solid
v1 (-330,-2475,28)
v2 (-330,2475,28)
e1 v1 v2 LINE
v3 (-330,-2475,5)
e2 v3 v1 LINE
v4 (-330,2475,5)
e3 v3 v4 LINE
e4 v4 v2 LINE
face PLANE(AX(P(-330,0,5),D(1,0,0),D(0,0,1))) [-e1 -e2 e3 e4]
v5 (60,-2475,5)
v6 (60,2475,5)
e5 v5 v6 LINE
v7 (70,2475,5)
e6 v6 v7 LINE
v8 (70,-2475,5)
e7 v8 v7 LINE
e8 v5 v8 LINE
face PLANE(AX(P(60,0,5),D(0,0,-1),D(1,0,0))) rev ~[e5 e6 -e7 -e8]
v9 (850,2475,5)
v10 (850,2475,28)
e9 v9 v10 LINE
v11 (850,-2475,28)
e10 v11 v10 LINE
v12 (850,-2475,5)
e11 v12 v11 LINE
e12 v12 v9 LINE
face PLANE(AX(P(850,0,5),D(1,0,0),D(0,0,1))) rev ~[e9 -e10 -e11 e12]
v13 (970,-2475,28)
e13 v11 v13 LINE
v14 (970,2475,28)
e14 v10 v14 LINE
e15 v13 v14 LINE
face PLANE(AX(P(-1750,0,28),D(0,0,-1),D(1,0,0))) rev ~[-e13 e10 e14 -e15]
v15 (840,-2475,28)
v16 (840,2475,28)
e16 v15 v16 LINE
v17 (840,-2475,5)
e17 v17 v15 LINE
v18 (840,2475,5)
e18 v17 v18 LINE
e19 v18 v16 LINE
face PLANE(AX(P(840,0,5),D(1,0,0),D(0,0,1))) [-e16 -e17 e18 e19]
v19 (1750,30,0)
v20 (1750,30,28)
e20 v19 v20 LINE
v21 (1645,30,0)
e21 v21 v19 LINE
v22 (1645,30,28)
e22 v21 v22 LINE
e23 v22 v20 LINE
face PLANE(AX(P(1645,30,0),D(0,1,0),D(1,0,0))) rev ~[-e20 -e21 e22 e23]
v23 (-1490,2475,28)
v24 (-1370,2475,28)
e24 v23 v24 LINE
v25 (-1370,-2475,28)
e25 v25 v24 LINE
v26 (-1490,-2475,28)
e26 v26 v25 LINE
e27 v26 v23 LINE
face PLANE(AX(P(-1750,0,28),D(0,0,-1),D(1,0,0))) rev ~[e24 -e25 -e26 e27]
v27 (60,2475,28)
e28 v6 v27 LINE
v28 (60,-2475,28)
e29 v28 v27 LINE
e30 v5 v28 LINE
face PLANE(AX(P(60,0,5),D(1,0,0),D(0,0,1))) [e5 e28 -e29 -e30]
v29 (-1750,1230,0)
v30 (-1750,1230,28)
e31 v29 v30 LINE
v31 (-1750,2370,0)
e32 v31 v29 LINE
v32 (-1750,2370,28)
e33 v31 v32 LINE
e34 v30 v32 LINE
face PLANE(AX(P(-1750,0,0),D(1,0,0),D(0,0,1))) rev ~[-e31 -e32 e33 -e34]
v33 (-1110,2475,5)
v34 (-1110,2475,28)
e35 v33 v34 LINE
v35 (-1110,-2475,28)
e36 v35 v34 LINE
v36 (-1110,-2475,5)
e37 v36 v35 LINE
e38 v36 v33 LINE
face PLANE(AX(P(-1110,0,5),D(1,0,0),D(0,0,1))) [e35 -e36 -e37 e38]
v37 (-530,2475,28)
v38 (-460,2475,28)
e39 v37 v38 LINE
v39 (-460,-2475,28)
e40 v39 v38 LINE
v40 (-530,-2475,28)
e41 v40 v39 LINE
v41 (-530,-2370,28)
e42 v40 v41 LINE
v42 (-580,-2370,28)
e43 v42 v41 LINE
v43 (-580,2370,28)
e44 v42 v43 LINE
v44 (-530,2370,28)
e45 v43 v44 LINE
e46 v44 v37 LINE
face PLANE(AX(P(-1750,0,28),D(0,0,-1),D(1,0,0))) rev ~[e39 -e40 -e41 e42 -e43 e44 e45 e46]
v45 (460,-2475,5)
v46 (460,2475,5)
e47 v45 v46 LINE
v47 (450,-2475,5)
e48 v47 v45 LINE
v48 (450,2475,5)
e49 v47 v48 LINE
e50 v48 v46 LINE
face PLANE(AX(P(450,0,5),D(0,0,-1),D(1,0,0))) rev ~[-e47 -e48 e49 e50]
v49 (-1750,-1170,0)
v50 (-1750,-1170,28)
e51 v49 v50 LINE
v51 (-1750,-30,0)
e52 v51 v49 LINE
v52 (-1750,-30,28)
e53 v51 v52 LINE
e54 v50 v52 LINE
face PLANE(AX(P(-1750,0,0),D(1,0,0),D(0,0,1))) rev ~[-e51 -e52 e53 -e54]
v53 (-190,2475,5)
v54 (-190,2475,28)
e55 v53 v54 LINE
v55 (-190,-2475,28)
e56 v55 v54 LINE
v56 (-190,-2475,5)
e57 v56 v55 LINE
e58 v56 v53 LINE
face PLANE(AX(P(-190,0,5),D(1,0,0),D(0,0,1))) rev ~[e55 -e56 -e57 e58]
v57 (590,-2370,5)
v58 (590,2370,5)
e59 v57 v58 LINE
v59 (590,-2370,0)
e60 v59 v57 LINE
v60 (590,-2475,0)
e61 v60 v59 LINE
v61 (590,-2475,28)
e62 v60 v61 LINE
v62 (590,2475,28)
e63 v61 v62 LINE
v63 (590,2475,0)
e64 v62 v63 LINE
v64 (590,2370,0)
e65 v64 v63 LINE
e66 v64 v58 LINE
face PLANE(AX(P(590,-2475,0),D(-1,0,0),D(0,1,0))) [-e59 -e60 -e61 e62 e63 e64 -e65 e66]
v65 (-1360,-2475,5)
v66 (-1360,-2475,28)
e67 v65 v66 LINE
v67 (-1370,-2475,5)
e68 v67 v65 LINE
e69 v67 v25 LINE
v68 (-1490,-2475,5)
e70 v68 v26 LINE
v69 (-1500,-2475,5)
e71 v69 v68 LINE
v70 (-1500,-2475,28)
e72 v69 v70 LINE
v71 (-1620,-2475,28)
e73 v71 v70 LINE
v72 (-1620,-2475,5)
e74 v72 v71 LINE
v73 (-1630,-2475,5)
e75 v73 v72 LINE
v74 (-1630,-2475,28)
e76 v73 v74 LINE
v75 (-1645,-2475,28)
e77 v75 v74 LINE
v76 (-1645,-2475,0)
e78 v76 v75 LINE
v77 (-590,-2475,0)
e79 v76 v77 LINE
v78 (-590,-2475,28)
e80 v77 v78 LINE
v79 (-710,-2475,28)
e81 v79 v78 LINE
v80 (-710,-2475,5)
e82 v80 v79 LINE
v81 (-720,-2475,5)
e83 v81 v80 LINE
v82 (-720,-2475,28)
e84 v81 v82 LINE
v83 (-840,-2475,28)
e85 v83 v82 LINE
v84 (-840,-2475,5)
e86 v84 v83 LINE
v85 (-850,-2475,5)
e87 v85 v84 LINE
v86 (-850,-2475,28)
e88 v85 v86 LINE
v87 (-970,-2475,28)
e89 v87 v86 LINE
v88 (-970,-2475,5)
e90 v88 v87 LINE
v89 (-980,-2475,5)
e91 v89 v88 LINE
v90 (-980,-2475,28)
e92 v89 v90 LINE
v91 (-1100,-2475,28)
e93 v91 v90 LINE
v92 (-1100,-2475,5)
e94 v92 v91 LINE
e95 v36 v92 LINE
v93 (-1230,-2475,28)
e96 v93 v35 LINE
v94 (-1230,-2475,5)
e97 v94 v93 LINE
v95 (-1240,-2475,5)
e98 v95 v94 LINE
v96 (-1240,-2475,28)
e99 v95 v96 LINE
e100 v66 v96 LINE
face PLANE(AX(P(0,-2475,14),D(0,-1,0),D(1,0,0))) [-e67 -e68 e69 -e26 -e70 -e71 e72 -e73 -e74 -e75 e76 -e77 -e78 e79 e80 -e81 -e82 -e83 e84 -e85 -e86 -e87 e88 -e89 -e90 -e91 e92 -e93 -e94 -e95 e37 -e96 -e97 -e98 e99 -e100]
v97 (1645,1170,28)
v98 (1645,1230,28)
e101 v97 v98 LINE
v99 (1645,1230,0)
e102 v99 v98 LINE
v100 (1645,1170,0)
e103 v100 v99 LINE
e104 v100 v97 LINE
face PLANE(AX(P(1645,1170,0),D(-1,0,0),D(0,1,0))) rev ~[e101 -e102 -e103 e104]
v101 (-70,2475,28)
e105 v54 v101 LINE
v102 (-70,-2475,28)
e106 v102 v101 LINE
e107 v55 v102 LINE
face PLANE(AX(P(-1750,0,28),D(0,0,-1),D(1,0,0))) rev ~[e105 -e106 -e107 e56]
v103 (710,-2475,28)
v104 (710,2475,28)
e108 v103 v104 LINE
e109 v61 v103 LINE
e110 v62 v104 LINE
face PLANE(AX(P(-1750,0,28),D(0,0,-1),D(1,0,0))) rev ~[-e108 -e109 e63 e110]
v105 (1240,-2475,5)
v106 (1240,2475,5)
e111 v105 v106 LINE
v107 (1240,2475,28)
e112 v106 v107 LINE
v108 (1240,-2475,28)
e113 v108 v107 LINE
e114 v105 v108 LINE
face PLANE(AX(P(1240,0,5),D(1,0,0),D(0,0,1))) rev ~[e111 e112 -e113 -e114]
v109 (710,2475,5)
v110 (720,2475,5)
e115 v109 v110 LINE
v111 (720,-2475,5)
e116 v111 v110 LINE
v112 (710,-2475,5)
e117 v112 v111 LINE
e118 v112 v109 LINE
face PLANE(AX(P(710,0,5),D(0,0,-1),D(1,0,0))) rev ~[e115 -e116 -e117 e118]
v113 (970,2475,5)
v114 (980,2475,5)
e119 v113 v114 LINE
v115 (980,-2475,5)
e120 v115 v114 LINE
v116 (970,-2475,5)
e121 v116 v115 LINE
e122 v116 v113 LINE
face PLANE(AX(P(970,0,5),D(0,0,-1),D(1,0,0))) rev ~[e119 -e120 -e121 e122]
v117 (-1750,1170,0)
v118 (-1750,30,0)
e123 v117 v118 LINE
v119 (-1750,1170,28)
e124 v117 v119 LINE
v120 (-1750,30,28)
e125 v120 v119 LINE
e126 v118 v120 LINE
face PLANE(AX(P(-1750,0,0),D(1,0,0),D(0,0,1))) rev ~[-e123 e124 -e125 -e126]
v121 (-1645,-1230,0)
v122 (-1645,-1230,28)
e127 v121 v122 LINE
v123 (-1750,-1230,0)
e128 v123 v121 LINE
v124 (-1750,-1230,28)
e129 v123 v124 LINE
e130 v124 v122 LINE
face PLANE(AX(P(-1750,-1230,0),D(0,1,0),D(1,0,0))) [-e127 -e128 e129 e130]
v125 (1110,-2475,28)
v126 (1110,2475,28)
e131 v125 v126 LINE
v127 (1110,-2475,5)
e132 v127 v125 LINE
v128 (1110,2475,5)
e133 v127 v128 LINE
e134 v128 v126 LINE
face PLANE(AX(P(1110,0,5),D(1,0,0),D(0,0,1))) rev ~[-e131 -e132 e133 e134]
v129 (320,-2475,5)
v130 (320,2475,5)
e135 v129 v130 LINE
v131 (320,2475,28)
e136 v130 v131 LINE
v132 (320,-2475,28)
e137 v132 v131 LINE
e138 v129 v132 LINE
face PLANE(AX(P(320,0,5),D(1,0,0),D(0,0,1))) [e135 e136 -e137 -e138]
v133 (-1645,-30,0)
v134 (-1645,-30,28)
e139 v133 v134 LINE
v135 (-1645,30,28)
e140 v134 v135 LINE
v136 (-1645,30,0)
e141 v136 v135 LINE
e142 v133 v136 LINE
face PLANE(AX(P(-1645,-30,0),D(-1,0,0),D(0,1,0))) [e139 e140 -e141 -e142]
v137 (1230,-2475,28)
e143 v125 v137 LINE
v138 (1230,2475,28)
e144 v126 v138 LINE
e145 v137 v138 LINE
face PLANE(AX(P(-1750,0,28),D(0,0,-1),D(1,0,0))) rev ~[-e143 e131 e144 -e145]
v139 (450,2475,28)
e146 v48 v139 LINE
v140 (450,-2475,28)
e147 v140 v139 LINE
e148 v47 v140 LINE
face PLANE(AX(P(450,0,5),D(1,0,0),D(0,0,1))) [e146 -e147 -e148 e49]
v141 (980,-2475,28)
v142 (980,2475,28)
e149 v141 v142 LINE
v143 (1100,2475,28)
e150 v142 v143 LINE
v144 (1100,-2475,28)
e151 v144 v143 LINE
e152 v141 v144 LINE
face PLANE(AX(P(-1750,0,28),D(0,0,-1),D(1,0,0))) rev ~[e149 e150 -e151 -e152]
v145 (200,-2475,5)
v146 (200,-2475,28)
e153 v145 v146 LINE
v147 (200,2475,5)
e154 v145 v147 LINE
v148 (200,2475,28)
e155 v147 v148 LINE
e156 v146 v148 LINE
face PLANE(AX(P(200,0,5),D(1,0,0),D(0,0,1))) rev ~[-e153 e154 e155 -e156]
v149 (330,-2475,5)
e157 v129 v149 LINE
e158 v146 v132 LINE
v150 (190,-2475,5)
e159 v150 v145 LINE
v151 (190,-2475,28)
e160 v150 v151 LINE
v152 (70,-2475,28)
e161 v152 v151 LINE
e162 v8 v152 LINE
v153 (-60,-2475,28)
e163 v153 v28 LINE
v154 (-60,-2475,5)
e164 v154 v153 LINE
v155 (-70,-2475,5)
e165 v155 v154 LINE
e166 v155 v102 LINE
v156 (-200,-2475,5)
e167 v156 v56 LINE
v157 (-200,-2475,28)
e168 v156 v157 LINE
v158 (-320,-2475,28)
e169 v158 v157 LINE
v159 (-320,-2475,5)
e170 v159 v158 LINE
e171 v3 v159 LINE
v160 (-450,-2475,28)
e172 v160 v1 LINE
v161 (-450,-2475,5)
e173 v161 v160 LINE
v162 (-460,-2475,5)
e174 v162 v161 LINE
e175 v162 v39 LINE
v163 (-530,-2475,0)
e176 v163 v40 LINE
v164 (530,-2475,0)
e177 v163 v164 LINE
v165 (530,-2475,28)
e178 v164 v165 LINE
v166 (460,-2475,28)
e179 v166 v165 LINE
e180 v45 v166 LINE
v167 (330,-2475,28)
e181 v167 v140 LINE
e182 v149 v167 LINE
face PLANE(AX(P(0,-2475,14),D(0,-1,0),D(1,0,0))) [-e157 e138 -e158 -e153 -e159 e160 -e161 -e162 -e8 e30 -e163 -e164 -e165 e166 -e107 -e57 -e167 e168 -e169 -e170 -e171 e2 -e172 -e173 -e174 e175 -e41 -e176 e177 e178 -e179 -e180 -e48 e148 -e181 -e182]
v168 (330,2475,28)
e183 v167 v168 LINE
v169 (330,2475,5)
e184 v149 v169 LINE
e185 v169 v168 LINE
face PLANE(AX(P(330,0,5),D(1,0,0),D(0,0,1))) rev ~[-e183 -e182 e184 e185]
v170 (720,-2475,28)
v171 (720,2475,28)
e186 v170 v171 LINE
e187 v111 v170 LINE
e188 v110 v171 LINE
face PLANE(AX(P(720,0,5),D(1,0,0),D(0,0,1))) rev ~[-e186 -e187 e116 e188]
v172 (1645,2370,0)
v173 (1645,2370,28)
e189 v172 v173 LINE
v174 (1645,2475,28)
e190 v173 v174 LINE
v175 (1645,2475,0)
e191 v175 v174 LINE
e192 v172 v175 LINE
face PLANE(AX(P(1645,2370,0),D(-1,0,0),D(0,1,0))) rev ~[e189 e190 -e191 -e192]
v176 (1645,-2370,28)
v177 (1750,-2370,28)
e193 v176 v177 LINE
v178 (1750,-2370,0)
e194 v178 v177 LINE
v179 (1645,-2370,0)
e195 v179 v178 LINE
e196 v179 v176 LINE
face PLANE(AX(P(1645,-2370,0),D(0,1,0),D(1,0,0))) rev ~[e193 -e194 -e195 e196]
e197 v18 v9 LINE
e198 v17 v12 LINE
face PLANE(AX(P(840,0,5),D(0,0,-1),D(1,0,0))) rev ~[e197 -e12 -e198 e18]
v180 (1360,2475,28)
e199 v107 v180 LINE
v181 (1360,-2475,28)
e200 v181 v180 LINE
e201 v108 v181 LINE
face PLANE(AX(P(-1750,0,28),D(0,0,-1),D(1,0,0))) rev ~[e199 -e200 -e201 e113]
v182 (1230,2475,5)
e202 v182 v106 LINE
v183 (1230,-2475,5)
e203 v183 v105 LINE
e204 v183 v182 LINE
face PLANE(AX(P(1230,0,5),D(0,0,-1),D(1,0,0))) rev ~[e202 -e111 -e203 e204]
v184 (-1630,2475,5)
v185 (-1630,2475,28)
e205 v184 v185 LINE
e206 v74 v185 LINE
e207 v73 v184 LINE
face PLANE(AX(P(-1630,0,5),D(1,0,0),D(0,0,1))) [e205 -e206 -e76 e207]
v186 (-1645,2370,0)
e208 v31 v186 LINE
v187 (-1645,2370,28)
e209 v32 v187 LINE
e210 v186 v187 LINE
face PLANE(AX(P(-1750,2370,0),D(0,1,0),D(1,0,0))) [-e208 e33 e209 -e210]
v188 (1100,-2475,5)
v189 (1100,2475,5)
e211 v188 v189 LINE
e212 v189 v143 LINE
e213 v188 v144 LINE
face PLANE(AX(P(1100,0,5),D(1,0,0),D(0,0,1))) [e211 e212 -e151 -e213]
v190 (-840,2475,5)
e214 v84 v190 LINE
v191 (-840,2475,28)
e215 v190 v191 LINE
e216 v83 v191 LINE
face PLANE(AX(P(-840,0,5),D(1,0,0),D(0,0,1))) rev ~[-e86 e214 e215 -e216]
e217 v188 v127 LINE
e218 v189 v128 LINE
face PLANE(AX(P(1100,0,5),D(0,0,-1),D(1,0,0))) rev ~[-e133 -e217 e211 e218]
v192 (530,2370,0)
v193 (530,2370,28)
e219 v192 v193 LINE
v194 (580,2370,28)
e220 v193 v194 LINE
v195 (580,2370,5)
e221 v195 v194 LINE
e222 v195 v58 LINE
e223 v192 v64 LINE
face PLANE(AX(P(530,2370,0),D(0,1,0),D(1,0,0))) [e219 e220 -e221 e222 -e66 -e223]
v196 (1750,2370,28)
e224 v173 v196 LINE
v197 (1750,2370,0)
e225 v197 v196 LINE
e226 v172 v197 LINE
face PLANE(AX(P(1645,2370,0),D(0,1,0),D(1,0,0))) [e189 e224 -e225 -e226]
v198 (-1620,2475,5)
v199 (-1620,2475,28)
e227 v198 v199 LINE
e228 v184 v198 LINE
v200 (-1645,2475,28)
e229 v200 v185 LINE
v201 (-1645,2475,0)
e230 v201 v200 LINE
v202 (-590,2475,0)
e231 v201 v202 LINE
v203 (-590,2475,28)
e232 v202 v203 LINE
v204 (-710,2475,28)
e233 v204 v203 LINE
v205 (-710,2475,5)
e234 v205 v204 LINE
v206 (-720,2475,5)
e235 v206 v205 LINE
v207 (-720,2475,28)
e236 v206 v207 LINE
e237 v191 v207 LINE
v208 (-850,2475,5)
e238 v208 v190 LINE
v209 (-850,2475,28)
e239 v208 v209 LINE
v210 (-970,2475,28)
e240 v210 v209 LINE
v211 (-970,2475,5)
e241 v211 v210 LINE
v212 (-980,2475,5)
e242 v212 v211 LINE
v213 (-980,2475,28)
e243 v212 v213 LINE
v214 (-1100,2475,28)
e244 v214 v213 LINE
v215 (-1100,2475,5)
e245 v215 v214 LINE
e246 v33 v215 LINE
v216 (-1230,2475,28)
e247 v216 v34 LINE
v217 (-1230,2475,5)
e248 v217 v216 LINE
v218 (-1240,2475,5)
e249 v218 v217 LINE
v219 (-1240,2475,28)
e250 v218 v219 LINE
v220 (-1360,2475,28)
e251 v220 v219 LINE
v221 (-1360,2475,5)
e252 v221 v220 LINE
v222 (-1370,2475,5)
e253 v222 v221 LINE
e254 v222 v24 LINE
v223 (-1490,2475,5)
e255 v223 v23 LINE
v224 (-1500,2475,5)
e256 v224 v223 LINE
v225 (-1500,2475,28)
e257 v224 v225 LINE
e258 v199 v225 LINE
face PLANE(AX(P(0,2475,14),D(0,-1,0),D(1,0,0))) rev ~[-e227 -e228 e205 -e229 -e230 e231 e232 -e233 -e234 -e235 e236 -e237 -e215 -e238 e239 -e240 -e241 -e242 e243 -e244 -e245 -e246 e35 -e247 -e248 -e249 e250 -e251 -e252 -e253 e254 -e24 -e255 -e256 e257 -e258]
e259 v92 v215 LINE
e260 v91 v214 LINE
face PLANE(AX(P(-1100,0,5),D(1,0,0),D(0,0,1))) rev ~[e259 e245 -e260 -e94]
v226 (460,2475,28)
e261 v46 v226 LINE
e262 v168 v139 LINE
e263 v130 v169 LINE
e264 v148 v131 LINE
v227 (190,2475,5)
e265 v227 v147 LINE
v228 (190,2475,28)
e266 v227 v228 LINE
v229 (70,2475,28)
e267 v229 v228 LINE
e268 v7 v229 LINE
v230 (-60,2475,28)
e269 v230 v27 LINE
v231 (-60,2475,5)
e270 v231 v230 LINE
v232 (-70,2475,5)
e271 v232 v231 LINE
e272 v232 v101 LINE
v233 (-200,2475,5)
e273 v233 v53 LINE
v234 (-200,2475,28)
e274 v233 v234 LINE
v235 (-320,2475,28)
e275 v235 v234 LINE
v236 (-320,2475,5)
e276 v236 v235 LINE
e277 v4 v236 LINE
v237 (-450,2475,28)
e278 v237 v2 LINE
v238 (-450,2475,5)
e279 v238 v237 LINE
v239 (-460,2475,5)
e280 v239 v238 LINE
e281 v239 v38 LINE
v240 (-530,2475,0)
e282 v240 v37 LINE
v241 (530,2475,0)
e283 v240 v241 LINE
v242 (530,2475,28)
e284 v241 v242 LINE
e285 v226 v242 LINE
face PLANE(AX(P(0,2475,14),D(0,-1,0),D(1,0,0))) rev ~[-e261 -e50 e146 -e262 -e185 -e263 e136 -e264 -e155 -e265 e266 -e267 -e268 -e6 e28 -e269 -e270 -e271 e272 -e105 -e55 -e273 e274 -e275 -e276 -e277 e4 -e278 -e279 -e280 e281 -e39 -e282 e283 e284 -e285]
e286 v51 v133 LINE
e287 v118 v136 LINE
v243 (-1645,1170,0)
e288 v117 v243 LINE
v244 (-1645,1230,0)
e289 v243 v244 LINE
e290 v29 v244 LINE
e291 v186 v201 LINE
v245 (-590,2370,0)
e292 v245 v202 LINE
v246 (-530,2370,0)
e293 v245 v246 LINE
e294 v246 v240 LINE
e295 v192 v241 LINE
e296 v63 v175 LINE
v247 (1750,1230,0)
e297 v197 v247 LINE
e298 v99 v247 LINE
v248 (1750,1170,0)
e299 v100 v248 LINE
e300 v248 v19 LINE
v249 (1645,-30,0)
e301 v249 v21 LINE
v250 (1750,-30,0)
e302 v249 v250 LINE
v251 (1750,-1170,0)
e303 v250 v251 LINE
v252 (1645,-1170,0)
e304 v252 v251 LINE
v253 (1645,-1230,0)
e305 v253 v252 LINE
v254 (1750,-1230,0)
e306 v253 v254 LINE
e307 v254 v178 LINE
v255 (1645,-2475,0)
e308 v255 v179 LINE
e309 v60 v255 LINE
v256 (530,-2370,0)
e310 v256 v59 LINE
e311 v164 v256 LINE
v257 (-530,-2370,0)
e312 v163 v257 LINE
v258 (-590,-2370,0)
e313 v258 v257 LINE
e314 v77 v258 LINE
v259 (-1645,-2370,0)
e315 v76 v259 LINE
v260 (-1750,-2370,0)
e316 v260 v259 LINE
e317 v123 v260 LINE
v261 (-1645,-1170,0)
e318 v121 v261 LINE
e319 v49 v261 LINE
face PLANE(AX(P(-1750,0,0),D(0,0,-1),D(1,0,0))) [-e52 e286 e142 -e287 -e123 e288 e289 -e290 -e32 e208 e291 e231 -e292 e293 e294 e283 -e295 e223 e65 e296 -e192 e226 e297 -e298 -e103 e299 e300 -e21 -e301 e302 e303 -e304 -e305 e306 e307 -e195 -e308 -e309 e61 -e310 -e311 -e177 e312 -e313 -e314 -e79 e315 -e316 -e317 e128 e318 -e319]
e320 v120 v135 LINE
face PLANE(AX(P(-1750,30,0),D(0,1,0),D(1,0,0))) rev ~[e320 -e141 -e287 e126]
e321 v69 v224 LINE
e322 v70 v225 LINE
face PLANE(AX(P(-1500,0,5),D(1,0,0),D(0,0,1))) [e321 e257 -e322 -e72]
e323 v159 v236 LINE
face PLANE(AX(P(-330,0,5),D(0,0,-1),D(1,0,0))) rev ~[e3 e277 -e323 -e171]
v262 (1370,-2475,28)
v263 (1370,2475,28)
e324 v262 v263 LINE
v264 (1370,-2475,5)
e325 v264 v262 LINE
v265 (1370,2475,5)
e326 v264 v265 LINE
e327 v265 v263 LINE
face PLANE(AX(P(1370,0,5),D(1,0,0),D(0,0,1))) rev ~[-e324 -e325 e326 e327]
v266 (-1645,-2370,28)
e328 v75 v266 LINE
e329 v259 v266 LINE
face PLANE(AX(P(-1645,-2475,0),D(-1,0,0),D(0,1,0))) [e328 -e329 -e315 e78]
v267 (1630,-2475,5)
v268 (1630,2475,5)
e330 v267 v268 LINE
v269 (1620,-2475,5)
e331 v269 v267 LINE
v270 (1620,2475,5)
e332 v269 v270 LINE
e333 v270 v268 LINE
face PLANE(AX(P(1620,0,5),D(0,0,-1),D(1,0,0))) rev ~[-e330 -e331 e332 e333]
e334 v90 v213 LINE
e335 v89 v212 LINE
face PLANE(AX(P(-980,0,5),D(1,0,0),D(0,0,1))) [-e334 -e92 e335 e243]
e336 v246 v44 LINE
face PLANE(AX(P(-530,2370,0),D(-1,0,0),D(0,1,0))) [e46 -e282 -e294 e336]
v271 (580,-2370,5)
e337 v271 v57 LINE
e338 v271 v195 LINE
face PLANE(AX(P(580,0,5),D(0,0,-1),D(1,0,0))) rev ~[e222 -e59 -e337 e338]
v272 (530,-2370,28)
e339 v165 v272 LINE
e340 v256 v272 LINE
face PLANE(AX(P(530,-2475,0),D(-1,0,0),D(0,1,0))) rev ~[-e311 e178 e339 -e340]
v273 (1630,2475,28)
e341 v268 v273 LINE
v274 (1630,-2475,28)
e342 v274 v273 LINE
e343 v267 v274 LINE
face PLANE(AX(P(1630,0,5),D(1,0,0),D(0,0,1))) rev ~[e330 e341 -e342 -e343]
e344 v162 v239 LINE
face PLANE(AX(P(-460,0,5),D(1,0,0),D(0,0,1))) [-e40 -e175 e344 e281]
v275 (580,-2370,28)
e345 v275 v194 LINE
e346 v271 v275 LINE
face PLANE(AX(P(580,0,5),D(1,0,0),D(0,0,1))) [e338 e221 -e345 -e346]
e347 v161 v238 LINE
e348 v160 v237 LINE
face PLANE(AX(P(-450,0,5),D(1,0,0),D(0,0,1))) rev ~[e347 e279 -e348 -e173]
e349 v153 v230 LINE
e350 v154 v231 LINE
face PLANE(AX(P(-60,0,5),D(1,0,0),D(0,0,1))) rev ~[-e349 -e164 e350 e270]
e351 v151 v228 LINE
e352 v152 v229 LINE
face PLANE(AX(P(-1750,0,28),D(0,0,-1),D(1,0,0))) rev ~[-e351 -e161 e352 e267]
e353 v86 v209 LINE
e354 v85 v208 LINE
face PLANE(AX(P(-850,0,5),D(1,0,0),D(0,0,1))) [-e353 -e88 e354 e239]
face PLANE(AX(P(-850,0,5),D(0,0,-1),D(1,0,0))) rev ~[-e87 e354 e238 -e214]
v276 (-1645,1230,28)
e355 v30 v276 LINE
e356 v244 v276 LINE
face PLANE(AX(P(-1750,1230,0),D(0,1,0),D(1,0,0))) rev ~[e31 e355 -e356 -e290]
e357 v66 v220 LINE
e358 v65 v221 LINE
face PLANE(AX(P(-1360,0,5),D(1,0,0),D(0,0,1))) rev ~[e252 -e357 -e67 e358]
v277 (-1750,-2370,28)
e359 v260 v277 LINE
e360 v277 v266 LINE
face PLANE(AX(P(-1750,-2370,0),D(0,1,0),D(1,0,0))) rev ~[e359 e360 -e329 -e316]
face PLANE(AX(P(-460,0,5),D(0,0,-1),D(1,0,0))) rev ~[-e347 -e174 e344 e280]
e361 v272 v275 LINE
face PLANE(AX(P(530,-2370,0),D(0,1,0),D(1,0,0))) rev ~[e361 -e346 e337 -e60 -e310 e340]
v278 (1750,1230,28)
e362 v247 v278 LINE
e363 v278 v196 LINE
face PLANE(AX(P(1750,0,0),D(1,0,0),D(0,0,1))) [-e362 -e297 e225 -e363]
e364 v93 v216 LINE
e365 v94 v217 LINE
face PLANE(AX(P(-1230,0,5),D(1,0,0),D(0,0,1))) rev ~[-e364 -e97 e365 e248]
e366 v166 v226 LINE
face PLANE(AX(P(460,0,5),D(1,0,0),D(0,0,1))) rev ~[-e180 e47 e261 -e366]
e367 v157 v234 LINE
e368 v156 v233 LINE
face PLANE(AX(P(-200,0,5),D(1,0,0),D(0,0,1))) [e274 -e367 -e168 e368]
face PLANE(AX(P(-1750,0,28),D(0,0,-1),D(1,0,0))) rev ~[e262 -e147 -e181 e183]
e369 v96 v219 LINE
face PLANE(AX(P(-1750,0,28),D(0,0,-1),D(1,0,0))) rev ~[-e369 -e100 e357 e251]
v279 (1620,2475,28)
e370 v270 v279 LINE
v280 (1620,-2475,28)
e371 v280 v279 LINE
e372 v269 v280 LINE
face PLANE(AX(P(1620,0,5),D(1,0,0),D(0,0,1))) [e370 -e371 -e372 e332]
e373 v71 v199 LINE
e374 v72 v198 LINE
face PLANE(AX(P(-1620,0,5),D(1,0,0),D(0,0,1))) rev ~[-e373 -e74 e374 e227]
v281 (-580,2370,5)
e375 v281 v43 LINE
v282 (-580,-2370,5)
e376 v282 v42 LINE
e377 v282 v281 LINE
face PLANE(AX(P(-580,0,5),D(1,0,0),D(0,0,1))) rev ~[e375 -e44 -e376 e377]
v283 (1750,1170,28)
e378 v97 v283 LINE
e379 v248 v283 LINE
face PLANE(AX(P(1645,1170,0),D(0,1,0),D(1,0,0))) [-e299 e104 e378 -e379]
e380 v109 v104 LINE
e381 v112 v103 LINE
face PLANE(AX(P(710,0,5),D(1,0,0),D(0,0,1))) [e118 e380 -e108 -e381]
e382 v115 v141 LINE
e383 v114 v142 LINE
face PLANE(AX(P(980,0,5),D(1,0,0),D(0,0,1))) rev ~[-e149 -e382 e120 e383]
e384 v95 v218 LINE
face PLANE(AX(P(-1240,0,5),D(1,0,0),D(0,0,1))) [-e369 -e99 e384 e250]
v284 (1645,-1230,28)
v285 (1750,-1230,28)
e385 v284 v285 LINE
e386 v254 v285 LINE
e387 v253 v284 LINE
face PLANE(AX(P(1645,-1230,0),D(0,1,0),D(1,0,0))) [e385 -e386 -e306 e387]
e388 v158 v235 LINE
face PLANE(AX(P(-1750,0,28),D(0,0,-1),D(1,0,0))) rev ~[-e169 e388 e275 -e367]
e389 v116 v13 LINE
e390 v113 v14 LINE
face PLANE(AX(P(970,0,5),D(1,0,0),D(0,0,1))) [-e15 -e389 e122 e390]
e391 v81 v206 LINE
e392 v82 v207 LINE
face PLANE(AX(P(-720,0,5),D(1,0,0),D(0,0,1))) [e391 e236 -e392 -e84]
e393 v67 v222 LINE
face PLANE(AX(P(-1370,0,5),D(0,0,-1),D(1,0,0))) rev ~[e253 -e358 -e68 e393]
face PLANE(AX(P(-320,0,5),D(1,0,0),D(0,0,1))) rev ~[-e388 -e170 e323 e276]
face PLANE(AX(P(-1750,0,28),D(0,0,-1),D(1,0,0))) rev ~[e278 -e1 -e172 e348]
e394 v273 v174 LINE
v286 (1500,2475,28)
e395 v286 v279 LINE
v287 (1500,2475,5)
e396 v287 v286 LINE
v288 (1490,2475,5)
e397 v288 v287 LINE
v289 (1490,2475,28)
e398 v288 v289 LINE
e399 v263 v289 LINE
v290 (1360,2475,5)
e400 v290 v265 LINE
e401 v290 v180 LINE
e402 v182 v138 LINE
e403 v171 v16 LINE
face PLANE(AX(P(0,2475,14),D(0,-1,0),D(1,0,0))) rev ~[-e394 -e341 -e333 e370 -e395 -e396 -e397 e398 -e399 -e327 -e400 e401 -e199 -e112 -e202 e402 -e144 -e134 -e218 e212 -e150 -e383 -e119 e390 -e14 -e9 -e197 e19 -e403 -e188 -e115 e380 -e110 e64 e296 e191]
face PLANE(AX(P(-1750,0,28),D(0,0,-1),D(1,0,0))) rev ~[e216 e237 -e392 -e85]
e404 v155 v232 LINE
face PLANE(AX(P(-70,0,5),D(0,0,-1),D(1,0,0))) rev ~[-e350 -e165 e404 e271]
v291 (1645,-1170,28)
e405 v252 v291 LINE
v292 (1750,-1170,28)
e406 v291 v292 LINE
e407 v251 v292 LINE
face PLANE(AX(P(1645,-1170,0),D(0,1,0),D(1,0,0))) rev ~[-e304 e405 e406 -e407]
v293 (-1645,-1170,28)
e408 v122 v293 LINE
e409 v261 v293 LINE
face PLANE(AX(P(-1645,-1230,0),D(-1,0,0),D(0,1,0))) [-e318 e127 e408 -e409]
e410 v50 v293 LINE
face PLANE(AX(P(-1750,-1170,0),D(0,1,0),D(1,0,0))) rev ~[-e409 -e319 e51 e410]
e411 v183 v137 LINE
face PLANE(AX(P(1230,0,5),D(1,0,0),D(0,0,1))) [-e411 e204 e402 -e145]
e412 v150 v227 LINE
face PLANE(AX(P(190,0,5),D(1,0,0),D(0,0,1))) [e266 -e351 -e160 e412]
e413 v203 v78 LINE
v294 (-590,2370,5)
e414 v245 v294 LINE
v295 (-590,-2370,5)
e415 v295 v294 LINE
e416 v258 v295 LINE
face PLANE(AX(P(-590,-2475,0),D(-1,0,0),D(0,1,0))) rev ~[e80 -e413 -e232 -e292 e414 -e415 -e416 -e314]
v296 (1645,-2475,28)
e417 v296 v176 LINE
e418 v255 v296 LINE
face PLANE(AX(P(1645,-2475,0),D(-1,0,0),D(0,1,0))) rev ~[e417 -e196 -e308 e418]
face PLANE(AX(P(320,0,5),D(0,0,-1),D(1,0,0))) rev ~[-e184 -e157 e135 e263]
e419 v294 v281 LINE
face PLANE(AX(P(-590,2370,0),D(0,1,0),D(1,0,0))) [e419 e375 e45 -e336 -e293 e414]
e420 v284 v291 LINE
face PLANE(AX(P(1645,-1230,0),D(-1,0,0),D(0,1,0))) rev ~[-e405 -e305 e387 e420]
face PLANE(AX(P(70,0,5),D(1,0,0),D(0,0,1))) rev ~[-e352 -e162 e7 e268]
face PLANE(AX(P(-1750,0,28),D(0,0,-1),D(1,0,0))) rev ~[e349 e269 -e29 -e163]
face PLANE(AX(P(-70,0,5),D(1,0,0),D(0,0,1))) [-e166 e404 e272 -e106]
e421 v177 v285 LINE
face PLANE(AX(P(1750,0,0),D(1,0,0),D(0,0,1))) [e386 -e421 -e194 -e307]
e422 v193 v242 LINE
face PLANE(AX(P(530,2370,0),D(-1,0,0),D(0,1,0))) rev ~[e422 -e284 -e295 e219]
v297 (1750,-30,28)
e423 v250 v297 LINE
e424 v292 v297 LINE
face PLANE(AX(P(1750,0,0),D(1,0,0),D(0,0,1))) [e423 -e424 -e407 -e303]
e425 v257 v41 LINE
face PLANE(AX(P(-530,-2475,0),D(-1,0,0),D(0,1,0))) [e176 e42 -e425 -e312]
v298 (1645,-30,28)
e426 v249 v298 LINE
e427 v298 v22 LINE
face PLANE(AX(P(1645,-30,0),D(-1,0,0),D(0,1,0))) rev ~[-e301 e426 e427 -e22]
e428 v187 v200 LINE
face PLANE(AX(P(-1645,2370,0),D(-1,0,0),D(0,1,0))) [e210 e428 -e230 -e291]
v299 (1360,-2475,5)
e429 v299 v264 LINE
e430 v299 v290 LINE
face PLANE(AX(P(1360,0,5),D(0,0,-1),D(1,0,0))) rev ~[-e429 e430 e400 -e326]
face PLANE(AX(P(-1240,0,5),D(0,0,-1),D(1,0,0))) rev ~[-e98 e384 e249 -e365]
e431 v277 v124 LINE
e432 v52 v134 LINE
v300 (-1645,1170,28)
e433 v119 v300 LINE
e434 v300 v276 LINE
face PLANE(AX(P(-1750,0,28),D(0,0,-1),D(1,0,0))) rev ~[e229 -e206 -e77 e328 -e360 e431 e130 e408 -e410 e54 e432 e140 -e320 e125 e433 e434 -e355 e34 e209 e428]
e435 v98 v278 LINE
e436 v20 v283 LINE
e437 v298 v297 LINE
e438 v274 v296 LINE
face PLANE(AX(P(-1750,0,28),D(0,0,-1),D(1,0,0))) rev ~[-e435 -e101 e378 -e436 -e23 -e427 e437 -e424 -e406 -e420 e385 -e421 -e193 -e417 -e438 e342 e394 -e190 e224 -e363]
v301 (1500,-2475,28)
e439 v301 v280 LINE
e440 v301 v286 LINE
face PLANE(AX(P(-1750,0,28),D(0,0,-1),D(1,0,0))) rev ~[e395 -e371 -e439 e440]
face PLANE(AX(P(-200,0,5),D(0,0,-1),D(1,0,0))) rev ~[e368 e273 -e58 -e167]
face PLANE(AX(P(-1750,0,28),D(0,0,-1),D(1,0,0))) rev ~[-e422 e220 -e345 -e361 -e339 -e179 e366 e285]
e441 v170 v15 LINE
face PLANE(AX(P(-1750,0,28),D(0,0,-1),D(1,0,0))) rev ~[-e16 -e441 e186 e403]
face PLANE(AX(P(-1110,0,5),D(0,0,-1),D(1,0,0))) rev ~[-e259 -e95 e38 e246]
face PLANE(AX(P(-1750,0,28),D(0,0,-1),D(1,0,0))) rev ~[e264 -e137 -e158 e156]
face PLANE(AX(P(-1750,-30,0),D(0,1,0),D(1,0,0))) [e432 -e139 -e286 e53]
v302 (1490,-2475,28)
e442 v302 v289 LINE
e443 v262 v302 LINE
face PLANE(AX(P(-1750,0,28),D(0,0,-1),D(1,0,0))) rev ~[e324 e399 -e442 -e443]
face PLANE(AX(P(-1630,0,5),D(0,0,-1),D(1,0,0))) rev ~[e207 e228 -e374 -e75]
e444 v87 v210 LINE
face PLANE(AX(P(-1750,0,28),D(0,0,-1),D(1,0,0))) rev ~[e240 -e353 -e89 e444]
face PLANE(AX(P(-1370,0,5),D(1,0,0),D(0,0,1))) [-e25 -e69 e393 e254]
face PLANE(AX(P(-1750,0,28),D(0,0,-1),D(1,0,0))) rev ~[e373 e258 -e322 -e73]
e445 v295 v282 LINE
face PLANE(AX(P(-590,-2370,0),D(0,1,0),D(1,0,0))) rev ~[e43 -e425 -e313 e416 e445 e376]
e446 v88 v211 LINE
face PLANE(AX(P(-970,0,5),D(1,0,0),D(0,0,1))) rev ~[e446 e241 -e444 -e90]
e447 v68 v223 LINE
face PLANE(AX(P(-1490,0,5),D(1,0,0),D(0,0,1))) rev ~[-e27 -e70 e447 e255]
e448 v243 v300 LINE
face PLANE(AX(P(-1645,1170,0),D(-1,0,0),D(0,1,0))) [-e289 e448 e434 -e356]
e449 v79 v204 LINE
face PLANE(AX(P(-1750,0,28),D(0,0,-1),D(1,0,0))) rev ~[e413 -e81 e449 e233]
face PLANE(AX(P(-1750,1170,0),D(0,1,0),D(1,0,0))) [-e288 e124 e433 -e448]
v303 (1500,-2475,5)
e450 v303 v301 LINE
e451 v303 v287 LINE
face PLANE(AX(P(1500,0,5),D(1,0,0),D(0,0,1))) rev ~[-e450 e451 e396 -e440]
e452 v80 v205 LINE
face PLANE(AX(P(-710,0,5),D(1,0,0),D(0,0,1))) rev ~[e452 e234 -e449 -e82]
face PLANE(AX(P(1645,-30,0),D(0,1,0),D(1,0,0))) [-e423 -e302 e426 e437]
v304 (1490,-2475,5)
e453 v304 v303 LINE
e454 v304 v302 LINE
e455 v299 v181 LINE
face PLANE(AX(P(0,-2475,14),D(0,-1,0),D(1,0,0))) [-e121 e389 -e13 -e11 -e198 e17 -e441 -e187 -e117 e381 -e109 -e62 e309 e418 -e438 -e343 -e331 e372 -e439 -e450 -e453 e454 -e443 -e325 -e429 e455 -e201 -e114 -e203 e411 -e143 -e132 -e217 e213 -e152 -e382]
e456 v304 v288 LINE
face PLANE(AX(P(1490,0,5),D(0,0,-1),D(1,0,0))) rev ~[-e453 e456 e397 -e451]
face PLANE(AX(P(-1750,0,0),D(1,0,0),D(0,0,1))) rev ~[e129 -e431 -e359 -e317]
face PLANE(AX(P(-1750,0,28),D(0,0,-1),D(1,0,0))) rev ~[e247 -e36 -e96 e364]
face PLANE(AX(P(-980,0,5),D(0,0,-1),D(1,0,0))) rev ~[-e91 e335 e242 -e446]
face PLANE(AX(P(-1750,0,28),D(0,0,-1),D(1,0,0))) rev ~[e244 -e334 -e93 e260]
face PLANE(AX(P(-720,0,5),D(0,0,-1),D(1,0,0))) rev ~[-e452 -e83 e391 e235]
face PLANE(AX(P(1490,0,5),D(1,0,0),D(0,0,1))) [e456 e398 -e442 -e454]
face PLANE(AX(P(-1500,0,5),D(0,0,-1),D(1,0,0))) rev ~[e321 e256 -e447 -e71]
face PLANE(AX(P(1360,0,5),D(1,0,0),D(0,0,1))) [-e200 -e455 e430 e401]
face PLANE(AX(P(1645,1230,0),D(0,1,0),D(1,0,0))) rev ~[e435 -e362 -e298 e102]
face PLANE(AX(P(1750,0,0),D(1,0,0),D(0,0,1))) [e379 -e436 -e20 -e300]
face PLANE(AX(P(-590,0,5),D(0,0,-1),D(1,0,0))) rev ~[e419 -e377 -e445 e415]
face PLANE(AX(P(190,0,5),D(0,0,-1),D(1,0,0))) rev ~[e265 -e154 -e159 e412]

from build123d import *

# Parameters (mm, degrees)
F0_W          = 3500
F0_H          = 28
F1_DEPTH      = 2475
F2_W          = 10
F2_H          = 23
F3_DEPTH      = 2475
F3_DEPTH_BACK = 2475
F4_W          = 105
F4_H          = 105
F4_W_2        = 60
F4_H_2        = 60
F5_DEPTH      = 28


with BuildPart() as f1:
    # F0 (on Front) → F1 (new body, symmetric)
    with BuildSketch(Plane.XZ):
        with Locations((0, 14)):
            Rectangle(F0_W, F0_H)
    extrude(amount=F1_DEPTH, both=True)

    # F2 (on Front) → F3 (cut, two sides)
    with BuildSketch(Plane.XZ) as f3_sk:
        with Locations((-1625, 16.5)):
            Rectangle(F2_W, F2_H)
        with Locations((-1495, 16.5)):
            Rectangle(F2_W, F2_H)
        with Locations((-1365, 16.5)):
            Rectangle(F2_W, F2_H)
        with Locations((-1235, 16.5)):
            Rectangle(F2_W, F2_H)
        with Locations((-1105, 16.5)):
            Rectangle(F2_W, F2_H)
        with Locations((-975, 16.5)):
            Rectangle(F2_W, F2_H)
        with Locations((-845, 16.5)):
            Rectangle(F2_W, F2_H)
        with Locations((-715, 16.5)):
            Rectangle(F2_W, F2_H)
        with Locations((-585, 16.5)):
            Rectangle(F2_W, F2_H)
        with Locations((-455, 16.5)):
            Rectangle(F2_W, F2_H)
        with Locations((-325, 16.5)):
            Rectangle(F2_W, F2_H)
        with Locations((-195, 16.5)):
            Rectangle(F2_W, F2_H)
        with Locations((-65, 16.5)):
            Rectangle(F2_W, F2_H)
        with Locations((65, 16.5)):
            Rectangle(F2_W, F2_H)
        with Locations((195, 16.5)):
            Rectangle(F2_W, F2_H)
        with Locations((325, 16.5)):
            Rectangle(F2_W, F2_H)
        with Locations((455, 16.5)):
            Rectangle(F2_W, F2_H)
        with Locations((585, 16.5)):
            Rectangle(F2_W, F2_H)
        with Locations((715, 16.5)):
            Rectangle(F2_W, F2_H)
        with Locations((845, 16.5)):
            Rectangle(F2_W, F2_H)
        with Locations((975, 16.5)):
            Rectangle(F2_W, F2_H)
        with Locations((1105, 16.5)):
            Rectangle(F2_W, F2_H)
        with Locations((1235, 16.5)):
            Rectangle(F2_W, F2_H)
        with Locations((1365, 16.5)):
            Rectangle(F2_W, F2_H)
        with Locations((1495, 16.5)):
            Rectangle(F2_W, F2_H)
        with Locations((1625, 16.5)):
            Rectangle(F2_W, F2_H)
    extrude(amount=-F3_DEPTH, mode=Mode.SUBTRACT)
    extrude(f3_sk.sketch, amount=F3_DEPTH_BACK, mode=Mode.SUBTRACT)

    # F4 (on Top) → F5 (cut, through all)
    with BuildSketch(Plane.XY):
        with Locations((-1697.5, -2422.5)):
            Rectangle(F4_W, F4_H)
        with Locations((1697.5, -2422.5)):
            Rectangle(F4_W, F4_H)
        with Locations((1697.5, 2422.5)):
            Rectangle(F4_W, F4_H)
        with Locations((-1697.5, 2422.5)):
            Rectangle(F4_W, F4_H)
        with Locations((-560, -2422.5)):
            Rectangle(F4_W_2, F4_H)
        with Locations((560, -2422.5)):
            Rectangle(F4_W_2, F4_H)
        with Locations((-560, 2422.5)):
            Rectangle(F4_W_2, F4_H)
        with Locations((560, 2422.5)):
            Rectangle(F4_W_2, F4_H)
        with Locations((-1697.5, -1200)):
            Rectangle(F4_W, F4_H_2)
        with Locations((-1697.5, 0)):
            Rectangle(F4_W, F4_H_2)
        with Locations((-1697.5, 1200)):
            Rectangle(F4_W, F4_H_2)
        with Locations((1697.5, 1200)):
            Rectangle(F4_W, F4_H_2)
        with Locations((1697.5, 0)):
            Rectangle(F4_W, F4_H_2)
        with Locations((1697.5, -1200)):
            Rectangle(F4_W, F4_H_2)
    extrude(amount=F5_DEPTH, mode=Mode.SUBTRACT)


solid = f1.part
